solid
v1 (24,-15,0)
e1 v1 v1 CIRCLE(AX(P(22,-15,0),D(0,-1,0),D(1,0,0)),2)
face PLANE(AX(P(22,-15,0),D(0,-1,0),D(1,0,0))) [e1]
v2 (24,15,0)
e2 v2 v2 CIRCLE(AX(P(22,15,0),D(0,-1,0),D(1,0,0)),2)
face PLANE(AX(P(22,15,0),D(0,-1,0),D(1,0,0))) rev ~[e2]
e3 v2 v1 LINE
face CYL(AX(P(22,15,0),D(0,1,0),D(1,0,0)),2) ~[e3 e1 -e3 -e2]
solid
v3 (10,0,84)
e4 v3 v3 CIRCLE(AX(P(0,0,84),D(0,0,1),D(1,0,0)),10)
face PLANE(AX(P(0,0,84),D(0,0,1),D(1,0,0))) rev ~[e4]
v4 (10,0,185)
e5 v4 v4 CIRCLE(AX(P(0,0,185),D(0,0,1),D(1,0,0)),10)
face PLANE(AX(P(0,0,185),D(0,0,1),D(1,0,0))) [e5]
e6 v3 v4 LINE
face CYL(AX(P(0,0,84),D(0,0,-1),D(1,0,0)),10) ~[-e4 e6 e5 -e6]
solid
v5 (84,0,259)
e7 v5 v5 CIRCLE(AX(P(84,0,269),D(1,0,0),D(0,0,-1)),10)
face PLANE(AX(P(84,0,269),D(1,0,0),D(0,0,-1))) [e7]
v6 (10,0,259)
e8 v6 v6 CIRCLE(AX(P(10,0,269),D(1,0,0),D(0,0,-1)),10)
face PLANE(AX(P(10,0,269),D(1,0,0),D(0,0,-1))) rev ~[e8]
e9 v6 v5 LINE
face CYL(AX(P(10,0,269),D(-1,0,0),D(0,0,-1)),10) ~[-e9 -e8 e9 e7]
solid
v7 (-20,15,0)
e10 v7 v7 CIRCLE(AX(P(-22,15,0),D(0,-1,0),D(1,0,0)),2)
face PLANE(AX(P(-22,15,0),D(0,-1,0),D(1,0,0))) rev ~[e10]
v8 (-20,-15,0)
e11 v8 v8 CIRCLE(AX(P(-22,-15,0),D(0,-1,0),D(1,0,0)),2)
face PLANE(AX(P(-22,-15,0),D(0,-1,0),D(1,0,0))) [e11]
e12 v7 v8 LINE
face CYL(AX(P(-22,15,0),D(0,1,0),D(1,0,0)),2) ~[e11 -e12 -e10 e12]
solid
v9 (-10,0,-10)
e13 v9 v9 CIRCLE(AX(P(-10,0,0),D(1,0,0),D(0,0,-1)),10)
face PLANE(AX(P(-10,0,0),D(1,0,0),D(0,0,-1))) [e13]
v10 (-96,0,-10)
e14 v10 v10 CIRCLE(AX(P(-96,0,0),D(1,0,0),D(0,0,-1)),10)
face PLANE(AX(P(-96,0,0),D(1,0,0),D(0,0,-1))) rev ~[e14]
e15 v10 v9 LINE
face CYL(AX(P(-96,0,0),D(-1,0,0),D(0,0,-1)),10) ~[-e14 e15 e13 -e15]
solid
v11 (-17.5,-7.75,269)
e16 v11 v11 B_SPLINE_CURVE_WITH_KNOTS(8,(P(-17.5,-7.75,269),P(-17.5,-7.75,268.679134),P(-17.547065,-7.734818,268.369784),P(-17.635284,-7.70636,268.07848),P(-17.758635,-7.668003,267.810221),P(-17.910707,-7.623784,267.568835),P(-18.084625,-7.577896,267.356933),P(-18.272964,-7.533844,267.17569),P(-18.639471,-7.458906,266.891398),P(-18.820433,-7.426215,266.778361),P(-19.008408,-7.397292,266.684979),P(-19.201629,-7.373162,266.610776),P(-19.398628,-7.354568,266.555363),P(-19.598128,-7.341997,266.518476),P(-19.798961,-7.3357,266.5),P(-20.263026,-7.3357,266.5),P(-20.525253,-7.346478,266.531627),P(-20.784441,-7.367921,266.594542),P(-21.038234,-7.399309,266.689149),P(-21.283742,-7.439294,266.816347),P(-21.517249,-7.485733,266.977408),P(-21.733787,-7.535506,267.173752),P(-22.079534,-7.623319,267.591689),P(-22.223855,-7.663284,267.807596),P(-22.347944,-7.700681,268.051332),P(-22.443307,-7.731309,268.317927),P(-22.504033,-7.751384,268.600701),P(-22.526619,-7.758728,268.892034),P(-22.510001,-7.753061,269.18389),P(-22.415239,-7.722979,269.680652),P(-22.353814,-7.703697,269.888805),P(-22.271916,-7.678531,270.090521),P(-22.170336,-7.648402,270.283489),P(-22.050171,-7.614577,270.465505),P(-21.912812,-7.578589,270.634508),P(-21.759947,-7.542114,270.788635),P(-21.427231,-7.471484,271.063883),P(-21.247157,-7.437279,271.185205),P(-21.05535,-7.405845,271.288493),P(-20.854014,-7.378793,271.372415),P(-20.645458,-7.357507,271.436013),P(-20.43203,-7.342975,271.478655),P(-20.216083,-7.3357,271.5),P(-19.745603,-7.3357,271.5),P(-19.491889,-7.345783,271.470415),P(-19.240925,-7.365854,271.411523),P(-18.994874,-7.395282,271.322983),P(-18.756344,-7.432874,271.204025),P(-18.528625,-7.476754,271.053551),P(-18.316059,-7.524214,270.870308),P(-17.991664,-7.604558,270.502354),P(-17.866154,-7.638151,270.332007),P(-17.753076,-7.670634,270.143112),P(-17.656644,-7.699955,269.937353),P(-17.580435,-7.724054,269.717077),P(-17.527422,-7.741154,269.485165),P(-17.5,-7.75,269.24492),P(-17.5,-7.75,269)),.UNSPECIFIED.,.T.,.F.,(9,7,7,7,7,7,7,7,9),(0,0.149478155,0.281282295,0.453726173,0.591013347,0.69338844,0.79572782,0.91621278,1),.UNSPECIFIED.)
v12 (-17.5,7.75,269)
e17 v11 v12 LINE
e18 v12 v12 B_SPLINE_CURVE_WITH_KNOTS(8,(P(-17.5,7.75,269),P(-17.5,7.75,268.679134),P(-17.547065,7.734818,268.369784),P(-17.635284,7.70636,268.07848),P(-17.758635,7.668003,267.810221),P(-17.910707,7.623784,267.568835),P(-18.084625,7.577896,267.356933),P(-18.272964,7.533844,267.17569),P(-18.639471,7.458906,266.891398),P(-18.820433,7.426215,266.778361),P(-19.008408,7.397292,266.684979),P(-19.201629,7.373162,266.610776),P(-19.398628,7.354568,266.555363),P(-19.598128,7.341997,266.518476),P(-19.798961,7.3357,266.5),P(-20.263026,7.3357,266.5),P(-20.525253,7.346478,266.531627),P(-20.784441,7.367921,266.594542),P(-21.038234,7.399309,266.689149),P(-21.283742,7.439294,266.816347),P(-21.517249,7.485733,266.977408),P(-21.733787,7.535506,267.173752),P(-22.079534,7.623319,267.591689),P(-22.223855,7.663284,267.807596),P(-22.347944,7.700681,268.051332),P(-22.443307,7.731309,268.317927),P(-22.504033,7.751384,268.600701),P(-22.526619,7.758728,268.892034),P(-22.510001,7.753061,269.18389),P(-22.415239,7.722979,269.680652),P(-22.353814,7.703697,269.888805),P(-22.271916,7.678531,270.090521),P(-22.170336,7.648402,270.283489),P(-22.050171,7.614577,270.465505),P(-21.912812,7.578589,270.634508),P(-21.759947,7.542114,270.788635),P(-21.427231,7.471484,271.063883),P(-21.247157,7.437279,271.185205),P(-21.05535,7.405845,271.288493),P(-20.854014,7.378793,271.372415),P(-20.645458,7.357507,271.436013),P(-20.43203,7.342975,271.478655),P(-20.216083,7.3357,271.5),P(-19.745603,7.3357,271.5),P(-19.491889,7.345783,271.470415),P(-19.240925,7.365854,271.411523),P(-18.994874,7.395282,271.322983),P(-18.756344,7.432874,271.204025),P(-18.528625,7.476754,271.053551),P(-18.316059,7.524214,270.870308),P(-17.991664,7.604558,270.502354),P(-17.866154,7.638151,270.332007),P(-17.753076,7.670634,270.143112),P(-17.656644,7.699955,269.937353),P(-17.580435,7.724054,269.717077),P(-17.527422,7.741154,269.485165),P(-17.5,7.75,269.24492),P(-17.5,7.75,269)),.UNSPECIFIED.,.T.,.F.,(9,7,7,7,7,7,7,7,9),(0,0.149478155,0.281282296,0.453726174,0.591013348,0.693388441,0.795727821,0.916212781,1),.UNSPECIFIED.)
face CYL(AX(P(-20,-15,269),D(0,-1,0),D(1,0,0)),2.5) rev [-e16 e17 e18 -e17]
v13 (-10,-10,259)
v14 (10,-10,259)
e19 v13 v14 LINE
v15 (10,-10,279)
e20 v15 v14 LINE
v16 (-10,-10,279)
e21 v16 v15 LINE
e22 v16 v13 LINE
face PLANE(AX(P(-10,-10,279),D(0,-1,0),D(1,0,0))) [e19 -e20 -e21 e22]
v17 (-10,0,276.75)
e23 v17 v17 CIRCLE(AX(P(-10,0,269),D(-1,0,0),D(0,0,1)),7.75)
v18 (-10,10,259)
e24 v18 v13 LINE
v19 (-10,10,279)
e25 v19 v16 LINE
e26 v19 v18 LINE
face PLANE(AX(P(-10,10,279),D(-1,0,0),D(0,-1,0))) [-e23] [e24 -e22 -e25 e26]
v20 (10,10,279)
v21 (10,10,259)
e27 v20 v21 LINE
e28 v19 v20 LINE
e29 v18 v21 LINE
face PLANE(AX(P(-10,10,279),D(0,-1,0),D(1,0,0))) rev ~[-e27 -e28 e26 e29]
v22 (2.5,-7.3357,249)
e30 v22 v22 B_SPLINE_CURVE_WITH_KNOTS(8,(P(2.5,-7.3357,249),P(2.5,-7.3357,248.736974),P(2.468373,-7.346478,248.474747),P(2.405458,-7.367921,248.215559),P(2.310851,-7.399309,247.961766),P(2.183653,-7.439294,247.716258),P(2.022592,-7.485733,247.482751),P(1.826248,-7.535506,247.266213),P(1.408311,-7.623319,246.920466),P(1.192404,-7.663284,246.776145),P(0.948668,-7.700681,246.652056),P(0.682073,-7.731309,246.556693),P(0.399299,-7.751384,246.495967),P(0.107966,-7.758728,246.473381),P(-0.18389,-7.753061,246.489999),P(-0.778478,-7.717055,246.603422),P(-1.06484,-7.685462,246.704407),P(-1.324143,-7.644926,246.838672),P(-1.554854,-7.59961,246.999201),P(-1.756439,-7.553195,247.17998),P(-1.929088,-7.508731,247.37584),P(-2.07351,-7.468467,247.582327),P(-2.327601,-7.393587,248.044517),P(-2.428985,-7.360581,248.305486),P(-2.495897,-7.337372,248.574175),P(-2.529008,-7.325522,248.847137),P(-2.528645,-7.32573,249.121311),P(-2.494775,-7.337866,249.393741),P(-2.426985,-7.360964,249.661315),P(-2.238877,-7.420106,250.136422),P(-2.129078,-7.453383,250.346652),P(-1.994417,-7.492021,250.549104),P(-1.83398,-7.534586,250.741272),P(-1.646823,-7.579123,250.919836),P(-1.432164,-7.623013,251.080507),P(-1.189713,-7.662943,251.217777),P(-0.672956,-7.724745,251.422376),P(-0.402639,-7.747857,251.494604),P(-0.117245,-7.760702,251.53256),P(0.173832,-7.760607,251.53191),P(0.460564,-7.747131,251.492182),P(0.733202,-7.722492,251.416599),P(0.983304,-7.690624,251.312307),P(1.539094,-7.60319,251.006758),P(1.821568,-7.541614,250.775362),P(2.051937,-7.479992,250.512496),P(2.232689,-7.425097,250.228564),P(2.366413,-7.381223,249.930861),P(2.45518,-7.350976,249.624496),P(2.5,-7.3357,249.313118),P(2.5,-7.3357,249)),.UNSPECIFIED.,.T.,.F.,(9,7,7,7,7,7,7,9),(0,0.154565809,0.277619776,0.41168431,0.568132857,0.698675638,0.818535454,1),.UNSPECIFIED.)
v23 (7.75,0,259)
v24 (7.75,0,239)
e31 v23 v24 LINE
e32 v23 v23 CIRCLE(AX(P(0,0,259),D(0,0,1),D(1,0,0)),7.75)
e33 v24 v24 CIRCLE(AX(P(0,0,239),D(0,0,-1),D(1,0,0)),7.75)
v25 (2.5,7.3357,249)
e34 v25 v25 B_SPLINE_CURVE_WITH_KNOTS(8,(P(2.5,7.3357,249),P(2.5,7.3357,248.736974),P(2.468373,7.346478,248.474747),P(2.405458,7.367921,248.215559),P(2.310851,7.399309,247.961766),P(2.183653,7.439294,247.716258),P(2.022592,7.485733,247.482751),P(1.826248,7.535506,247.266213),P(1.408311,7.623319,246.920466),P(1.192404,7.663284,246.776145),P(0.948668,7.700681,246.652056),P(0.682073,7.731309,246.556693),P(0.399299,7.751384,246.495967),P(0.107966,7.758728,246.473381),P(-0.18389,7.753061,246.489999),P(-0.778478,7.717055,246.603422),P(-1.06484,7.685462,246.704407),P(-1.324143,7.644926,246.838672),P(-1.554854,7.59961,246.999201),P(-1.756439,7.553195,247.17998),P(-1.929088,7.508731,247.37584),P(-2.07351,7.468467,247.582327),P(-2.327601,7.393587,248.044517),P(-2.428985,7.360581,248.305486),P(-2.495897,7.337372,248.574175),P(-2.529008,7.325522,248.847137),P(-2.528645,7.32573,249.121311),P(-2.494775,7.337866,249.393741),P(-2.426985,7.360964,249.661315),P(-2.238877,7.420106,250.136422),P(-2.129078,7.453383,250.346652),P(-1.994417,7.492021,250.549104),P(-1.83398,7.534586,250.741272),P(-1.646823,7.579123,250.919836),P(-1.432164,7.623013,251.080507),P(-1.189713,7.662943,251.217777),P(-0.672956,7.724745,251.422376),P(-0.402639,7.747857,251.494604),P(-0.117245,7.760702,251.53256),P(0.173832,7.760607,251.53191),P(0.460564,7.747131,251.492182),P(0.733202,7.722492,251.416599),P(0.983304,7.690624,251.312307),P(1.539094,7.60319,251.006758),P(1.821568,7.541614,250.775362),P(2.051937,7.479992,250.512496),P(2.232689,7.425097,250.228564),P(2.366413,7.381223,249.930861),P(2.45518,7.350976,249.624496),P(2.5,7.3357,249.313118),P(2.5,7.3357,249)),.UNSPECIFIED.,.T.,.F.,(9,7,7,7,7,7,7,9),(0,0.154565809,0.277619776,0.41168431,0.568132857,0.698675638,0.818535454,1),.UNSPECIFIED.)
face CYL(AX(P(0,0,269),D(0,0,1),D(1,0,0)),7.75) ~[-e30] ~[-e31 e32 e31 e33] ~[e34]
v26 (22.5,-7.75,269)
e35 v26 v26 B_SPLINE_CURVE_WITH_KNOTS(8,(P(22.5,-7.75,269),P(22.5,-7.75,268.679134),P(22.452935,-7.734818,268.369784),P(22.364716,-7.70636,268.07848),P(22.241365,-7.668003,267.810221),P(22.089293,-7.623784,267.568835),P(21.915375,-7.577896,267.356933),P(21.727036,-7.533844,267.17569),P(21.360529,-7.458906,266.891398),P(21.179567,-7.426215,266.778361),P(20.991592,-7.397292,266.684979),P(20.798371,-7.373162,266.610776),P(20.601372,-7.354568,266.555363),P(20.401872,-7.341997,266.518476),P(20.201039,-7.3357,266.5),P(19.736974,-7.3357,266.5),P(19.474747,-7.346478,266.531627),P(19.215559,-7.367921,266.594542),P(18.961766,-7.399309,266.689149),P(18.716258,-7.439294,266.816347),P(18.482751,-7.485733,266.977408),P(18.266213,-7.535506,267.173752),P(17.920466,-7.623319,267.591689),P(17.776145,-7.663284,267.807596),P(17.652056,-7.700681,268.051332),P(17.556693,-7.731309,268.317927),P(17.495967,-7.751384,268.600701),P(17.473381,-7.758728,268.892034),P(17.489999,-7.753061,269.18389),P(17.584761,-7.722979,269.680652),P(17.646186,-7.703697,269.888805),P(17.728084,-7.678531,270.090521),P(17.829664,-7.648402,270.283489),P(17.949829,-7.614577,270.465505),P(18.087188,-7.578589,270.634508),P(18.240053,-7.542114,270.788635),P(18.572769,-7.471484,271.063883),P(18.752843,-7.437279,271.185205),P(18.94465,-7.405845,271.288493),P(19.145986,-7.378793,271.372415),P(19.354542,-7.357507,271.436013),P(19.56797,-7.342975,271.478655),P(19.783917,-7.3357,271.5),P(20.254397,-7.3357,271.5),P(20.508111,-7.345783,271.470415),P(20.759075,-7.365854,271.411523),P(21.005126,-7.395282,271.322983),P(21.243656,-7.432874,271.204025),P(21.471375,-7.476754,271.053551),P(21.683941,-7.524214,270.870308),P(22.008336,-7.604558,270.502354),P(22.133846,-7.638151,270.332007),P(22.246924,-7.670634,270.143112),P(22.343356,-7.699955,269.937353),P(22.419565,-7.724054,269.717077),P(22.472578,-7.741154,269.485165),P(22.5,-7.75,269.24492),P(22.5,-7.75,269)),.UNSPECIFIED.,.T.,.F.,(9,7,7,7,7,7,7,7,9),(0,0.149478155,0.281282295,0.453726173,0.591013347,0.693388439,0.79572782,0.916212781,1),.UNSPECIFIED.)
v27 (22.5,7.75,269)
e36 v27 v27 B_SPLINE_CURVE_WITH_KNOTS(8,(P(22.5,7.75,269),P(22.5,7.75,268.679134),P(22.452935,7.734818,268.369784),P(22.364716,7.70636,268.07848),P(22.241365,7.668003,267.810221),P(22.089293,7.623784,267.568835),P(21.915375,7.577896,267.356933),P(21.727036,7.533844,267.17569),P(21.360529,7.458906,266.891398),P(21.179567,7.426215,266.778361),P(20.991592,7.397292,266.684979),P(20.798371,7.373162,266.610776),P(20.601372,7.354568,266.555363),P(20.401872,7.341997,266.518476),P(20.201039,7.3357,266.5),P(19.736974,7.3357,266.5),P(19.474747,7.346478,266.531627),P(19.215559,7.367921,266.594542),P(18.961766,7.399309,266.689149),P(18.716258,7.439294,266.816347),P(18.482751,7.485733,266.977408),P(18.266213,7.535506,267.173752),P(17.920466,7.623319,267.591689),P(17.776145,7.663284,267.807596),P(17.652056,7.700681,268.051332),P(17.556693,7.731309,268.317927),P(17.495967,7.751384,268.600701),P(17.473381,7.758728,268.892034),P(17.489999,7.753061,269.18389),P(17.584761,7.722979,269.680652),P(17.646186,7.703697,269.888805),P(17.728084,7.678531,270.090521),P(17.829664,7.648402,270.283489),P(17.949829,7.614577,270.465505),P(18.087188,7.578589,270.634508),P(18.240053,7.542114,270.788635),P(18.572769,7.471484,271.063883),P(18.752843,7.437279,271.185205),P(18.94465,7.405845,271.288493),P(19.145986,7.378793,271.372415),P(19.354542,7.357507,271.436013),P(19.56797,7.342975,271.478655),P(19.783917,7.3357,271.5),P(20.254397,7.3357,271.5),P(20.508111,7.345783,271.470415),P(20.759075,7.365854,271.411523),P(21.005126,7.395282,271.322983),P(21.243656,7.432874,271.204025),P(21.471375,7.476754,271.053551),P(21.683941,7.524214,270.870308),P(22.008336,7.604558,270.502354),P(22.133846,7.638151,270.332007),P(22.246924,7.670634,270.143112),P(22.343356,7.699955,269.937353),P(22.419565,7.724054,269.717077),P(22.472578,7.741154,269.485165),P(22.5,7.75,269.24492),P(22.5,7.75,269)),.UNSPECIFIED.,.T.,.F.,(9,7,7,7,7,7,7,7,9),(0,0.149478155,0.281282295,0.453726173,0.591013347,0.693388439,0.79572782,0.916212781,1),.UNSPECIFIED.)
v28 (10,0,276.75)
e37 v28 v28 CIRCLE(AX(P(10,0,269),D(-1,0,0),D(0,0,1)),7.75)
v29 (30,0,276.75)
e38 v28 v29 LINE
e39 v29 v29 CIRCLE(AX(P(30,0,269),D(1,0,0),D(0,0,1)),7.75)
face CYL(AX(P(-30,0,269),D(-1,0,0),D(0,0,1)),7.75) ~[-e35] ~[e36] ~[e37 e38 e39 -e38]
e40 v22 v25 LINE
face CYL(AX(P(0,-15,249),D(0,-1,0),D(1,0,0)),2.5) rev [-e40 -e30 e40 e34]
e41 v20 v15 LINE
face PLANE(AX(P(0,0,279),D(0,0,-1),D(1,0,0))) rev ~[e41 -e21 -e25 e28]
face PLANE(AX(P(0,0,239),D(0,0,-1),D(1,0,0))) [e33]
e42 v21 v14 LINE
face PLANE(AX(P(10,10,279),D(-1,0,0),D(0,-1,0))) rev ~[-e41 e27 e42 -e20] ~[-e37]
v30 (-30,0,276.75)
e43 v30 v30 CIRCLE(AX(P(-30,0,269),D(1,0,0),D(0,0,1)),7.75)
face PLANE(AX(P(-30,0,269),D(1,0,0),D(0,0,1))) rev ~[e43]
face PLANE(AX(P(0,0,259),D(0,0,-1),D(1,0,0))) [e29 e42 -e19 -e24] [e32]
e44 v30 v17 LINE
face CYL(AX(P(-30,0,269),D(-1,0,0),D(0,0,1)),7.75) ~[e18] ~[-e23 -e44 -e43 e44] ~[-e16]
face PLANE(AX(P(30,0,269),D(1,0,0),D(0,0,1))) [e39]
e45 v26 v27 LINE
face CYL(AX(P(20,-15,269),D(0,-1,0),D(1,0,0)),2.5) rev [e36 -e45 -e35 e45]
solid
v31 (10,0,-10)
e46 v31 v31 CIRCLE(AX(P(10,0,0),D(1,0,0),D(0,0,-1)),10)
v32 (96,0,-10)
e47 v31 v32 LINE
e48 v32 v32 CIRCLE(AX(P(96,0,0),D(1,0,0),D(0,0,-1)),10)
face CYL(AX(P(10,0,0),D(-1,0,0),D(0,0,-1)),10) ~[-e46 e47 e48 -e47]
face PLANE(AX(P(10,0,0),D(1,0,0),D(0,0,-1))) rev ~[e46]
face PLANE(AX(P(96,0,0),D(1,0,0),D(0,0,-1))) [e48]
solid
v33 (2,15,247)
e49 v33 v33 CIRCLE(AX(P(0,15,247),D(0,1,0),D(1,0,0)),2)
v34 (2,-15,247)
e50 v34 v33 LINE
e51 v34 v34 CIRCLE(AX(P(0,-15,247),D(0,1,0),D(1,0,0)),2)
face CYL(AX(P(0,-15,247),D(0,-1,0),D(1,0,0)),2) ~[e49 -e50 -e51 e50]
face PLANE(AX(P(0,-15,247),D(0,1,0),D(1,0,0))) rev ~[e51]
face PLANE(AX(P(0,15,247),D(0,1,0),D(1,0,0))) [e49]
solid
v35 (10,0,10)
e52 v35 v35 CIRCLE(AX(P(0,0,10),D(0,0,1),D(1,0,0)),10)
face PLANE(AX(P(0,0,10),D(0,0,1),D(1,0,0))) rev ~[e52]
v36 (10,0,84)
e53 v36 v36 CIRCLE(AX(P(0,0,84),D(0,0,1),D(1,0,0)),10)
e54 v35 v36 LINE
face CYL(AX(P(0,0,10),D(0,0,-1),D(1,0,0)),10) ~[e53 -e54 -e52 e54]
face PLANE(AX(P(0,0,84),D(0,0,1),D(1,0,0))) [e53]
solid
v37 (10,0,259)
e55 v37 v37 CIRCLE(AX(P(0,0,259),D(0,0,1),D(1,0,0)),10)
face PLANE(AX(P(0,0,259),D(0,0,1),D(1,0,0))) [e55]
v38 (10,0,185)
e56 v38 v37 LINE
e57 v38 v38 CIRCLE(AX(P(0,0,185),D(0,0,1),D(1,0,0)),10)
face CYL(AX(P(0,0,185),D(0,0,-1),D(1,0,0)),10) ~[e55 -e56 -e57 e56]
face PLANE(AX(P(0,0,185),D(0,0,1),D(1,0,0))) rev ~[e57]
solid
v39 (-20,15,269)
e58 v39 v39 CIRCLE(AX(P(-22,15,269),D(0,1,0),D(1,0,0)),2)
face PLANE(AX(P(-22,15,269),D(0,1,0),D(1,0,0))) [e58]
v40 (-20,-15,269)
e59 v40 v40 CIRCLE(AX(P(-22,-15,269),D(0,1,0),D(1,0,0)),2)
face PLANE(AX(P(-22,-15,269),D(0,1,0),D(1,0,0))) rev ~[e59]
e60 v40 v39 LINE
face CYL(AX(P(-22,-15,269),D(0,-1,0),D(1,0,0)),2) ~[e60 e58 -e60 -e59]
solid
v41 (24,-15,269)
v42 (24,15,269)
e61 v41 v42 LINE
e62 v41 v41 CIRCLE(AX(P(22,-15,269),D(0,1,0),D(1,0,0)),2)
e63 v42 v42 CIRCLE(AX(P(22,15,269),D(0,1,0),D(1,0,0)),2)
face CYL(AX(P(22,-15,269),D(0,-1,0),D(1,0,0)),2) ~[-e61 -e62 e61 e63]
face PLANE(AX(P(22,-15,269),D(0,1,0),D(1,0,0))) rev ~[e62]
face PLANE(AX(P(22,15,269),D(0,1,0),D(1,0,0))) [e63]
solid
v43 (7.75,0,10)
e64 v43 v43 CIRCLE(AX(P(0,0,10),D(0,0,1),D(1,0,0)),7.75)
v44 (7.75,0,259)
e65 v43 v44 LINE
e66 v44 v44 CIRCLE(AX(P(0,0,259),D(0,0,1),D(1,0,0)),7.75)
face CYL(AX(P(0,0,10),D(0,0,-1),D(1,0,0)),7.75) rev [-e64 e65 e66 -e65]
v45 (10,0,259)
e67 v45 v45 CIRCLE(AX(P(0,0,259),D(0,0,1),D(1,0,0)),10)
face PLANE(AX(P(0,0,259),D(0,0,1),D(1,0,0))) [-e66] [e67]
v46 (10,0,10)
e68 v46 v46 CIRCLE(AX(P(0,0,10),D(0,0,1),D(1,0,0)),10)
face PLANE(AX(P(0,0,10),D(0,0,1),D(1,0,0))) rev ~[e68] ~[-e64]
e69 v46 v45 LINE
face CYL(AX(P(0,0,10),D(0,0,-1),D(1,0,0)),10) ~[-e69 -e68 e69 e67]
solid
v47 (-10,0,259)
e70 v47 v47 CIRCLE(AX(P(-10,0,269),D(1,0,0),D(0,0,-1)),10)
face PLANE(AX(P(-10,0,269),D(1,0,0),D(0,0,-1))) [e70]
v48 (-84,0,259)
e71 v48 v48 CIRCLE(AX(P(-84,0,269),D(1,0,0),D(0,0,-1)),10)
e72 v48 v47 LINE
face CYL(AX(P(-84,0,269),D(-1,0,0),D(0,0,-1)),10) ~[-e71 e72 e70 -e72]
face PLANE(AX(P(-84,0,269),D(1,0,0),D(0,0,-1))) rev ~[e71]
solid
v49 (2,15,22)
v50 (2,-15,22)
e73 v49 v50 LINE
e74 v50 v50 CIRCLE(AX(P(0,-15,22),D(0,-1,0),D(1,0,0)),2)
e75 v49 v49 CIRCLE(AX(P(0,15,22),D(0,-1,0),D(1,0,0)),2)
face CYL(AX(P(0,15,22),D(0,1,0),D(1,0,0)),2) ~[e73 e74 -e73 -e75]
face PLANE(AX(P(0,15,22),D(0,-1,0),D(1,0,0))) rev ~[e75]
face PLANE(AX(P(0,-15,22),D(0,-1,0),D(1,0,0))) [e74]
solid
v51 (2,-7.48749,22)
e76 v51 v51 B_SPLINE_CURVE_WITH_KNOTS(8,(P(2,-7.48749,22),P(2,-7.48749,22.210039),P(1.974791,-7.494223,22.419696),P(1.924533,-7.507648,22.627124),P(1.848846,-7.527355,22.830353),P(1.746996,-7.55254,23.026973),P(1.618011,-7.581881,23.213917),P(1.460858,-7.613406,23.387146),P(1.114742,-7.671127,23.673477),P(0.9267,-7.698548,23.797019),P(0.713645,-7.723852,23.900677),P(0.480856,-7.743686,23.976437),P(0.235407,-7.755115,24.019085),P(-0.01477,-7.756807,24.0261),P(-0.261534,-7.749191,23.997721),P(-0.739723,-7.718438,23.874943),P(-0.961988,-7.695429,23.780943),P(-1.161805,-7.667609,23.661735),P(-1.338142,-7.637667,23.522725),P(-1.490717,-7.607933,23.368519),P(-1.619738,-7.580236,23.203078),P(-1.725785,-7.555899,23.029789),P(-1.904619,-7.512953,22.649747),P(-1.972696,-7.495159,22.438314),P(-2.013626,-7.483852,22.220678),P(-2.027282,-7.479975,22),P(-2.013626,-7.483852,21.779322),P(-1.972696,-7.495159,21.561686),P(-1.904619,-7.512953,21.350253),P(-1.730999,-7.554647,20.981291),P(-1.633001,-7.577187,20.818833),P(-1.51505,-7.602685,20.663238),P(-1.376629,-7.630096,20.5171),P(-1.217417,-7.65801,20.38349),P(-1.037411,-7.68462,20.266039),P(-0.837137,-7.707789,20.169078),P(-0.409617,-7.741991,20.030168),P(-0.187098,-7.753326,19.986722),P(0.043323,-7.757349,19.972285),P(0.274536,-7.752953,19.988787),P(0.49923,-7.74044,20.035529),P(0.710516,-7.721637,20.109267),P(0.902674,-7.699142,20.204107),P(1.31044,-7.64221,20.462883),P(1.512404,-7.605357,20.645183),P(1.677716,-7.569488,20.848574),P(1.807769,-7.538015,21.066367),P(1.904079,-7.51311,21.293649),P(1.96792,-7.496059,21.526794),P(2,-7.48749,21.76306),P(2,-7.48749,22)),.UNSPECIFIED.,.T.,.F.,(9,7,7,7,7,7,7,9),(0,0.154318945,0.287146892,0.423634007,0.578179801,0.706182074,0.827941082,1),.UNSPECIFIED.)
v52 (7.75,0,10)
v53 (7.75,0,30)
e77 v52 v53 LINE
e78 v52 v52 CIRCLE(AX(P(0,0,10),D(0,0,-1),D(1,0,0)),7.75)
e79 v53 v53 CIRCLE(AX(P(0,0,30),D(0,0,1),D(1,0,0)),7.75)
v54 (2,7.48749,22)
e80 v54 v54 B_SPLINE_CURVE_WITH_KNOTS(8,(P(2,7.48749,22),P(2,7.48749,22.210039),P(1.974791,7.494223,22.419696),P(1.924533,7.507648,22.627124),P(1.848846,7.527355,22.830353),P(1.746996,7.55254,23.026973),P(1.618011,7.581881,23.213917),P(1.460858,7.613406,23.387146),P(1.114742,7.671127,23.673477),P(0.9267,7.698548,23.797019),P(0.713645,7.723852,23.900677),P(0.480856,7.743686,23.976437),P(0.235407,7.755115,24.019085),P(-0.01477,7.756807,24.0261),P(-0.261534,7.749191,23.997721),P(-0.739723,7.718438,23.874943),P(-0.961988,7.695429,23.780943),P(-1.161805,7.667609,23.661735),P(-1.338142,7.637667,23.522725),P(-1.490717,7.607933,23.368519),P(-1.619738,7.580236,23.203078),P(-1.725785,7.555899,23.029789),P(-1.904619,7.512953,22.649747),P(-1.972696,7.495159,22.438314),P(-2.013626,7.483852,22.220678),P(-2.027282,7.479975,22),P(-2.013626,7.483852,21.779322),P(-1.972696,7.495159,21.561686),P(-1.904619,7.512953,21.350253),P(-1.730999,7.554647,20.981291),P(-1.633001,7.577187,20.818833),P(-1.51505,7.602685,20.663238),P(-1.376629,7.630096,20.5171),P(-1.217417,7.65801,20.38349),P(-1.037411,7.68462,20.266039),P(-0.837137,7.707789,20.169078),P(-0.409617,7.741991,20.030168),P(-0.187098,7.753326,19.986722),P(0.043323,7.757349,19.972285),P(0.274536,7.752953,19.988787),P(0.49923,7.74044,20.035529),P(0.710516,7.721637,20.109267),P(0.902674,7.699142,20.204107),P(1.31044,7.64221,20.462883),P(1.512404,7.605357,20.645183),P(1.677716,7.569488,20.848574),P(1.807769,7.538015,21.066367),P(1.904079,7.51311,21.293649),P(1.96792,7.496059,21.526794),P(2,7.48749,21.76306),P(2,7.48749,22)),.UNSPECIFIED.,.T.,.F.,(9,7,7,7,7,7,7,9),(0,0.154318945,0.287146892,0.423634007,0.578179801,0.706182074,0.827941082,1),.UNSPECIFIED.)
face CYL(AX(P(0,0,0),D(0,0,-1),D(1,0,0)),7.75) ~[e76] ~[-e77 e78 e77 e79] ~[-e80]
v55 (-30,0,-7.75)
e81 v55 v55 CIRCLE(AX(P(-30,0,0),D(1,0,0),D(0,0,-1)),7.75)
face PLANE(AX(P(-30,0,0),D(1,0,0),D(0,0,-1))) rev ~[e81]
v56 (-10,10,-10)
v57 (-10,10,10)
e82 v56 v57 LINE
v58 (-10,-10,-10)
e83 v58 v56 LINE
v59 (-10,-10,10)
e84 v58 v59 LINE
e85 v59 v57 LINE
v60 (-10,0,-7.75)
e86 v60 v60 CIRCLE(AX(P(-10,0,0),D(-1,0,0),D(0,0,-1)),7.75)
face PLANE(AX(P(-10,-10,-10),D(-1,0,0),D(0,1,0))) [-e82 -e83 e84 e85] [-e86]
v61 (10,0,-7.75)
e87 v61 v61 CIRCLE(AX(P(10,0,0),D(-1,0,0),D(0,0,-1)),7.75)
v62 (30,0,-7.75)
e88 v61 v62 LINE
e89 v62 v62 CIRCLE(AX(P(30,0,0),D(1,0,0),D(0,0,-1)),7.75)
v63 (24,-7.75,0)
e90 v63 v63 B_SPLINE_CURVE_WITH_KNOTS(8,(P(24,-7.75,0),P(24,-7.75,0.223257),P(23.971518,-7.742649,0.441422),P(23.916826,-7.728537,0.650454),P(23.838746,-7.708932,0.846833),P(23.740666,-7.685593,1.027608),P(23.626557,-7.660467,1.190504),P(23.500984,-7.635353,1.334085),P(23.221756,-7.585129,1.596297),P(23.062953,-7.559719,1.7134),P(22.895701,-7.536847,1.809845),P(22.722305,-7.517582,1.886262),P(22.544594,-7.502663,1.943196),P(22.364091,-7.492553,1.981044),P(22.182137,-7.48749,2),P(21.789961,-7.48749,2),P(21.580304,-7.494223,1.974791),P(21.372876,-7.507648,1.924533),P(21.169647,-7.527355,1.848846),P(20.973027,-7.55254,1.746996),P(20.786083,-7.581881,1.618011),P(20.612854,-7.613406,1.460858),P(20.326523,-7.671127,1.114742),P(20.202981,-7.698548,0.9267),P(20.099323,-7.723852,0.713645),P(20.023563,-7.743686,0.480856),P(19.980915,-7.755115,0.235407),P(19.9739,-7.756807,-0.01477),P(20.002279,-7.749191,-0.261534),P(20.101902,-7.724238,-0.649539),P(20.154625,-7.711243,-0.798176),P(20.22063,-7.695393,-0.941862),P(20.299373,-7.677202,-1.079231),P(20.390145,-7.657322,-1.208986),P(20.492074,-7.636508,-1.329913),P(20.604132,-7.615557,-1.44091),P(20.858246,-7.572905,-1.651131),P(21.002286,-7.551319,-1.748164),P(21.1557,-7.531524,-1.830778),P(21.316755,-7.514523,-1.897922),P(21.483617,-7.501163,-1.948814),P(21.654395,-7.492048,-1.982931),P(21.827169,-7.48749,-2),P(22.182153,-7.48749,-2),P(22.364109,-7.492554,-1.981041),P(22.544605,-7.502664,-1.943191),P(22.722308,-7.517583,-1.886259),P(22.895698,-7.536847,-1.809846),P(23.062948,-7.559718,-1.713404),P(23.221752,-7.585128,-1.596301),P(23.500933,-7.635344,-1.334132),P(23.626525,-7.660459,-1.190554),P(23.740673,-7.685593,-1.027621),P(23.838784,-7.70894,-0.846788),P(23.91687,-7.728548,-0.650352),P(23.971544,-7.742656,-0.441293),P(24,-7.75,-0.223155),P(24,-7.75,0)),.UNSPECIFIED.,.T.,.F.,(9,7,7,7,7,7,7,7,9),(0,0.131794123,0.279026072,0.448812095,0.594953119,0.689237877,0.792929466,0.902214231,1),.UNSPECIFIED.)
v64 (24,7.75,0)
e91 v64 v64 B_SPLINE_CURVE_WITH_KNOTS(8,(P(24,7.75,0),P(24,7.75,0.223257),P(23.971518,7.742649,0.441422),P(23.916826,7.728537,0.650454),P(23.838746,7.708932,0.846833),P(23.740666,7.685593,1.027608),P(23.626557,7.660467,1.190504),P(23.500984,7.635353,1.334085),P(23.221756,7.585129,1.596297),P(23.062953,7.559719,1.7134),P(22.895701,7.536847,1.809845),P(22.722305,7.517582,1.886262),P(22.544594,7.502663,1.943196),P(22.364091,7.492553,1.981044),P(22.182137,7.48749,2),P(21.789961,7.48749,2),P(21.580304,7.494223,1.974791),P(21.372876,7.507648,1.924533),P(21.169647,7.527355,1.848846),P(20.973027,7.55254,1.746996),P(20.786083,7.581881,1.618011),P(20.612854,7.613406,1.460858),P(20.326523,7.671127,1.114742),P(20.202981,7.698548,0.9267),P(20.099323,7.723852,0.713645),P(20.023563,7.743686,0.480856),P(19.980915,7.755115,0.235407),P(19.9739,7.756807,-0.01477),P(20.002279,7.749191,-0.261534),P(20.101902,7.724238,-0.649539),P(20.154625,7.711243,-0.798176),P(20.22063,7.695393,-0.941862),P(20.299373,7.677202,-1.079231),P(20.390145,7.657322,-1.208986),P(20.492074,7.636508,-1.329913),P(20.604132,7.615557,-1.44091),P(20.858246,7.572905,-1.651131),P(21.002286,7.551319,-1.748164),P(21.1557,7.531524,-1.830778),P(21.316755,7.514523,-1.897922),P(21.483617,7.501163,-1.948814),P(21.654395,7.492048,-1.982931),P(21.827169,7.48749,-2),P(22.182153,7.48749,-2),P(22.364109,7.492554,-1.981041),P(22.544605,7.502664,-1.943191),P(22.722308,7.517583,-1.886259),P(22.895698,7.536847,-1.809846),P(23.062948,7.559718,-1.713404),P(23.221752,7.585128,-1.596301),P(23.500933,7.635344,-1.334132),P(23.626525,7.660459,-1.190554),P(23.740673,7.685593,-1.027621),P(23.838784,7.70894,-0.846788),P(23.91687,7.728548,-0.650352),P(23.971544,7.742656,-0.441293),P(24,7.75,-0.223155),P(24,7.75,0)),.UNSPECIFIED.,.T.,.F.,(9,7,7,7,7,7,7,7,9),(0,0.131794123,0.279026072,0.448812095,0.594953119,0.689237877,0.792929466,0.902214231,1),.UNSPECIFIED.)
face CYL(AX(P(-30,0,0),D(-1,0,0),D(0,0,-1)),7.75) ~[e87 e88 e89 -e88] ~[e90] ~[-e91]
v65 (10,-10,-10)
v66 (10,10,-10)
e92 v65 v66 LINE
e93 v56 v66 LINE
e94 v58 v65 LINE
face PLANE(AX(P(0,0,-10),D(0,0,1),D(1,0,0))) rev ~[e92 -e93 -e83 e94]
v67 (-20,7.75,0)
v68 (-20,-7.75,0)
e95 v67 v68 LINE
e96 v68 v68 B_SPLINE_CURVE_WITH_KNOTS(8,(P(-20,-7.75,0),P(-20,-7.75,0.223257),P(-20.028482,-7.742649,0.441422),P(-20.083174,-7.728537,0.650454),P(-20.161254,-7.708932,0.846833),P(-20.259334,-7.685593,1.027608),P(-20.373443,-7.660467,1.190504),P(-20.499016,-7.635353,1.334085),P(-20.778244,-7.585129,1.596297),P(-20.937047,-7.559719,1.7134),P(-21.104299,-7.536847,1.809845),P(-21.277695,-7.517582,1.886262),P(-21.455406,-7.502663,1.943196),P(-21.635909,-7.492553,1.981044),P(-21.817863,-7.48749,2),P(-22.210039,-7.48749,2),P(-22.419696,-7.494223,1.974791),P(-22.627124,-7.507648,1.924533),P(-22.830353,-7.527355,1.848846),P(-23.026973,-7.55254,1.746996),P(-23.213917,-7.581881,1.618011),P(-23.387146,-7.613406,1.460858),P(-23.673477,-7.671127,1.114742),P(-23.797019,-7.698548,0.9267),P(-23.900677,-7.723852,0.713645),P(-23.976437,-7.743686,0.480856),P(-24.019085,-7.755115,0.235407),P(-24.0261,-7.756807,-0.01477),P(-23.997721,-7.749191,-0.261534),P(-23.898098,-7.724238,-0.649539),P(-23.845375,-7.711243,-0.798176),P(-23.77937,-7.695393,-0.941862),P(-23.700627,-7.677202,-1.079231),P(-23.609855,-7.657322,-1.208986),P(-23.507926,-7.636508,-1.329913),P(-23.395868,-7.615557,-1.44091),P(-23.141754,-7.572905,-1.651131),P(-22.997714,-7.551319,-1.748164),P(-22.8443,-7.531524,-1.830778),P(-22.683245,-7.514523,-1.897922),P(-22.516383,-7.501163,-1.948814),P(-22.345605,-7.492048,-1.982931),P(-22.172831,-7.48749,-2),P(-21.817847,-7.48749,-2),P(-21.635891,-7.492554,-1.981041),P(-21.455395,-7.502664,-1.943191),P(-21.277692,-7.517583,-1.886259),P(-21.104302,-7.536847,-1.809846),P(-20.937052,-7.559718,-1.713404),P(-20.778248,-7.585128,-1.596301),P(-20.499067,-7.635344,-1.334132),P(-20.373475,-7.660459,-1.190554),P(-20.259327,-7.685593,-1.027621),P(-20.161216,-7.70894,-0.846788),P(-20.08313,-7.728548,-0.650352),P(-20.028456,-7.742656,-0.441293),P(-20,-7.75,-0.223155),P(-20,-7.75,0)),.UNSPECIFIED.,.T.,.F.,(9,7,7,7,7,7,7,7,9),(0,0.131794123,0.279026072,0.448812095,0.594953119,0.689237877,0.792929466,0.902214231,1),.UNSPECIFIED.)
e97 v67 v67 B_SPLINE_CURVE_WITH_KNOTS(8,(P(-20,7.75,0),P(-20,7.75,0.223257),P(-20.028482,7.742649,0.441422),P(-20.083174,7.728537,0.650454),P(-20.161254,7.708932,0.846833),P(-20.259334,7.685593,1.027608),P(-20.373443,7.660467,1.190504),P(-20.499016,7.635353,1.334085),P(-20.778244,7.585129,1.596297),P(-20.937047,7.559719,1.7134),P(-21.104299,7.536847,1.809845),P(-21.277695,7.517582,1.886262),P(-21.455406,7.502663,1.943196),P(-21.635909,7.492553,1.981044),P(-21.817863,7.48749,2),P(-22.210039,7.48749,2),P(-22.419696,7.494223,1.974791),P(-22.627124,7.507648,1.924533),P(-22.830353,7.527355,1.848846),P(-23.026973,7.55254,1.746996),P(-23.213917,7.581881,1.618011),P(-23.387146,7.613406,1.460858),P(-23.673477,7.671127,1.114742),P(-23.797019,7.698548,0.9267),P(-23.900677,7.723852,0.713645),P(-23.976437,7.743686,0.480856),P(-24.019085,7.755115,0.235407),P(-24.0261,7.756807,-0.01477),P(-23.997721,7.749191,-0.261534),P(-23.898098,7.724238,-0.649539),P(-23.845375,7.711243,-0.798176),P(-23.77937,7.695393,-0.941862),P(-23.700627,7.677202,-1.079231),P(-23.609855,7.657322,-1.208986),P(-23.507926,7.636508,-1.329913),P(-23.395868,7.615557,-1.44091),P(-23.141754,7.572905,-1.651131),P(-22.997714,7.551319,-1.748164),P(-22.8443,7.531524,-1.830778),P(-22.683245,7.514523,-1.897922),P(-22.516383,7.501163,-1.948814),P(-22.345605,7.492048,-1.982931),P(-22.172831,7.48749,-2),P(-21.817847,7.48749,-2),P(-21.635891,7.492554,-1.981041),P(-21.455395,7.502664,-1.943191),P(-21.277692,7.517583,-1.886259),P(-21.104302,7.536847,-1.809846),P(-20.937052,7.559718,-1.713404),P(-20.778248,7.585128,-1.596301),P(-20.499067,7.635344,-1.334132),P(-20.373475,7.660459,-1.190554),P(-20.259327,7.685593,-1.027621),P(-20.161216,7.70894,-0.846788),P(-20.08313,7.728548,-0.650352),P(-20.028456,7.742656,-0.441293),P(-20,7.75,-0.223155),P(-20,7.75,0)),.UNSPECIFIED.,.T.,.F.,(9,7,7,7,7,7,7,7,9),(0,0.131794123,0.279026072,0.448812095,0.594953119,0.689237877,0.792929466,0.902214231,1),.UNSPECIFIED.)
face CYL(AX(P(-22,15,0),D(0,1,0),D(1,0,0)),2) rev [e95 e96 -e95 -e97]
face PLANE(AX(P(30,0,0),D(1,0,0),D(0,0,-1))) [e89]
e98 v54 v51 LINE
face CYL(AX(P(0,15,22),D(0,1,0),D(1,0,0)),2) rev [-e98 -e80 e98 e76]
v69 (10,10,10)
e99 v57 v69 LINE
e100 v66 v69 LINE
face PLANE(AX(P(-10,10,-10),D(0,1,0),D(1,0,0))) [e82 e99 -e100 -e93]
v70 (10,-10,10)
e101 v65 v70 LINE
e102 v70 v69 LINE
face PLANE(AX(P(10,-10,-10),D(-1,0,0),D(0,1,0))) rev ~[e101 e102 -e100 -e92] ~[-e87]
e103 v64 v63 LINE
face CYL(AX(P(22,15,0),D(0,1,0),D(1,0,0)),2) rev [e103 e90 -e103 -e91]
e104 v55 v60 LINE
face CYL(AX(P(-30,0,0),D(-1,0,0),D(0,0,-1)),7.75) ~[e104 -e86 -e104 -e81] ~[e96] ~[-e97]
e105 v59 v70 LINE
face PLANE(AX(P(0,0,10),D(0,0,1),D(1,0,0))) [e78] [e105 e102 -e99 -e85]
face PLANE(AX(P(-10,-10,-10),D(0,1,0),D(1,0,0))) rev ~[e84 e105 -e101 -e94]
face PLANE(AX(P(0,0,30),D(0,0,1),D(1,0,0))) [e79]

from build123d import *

# Parameters (mm, degrees)
CYLINDER_R                = 10
CYLINDER_DEPTH            = 86
CYLINDER002_R             = 10
CYLINDER002_DEPTH         = 86
CYLINDER003_R             = 10
CYLINDER003_DEPTH         = 74
CYLINDER004_R             = 10
CYLINDER004_DEPTH         = 74
CYLINDER005_R             = 10
CYLINDER005_DEPTH         = 74
CYLINDER006_R             = 10
CYLINDER006_DEPTH         = 101
CYLINDER007_R             = 10
CYLINDER007_DEPTH         = 74
TUBE_R                    = 10
TUBE_R_2                  = 7.75
TUBE_DEPTH                = 249
CYLINDER012_R             = 2
CYLINDER012_DEPTH         = 30
CYLINDER013_R             = 2
CYLINDER013_DEPTH         = 30
CYLINDER014_R             = 2
CYLINDER014_DEPTH         = 30
CYLINDER009_R             = 7.75
CYLINDER009_DEPTH         = 30
CYLINDER008_R             = 7.75
CYLINDER008_DEPTH         = 60
BOX_W                     = 20
BOX_H                     = 20
BOX_DEPTH                 = 20
CYLINDER017_R             = 2.5
CYLINDER017_DEPTH         = 30
CYLINDER018_R             = 2.5
CYLINDER018_DEPTH         = 30
CYLINDER019_R             = 2.5
CYLINDER019_DEPTH         = 30
CYLINDER016_R             = 7.75
CYLINDER016_DEPTH         = 30
CYLINDER015_R             = 7.75
CYLINDER015_DEPTH         = 60
BOX001_W                  = 20
BOX001_H                  = 20
BOX001_DEPTH              = 20
CUT001_PLACEMENT_ANGLE    = 180
CYLINDER020_R             = 2
CYLINDER020_DEPTH         = 30
CYLINDER021_R             = 2
CYLINDER021_DEPTH         = 30
CYLINDER022_R             = 2
CYLINDER022_DEPTH         = 30
CYLINDER023_R             = 2
CYLINDER023_DEPTH         = 30
CYLINDER024_R             = 2
CYLINDER024_DEPTH         = 30
CYLINDER025_R             = 2
CYLINDER025_DEPTH         = 30
FUSION006_PLACEMENT_ANGLE = 180


with BuildPart() as cadera_izquierda:
    # Cylinder → Cylinder (new body)
    with BuildSketch(Plane(origin=(10, 0, 0), x_dir=(0, 0, -1), z_dir=(1, 0, 0))):
        Circle(CYLINDER_R)
    extrude(amount=CYLINDER_DEPTH)


with BuildPart() as cadera_dercha:
    # Cylinder002 → Cylinder002 (new body)
    with BuildSketch(Plane(origin=(-96, 0, 0), x_dir=(0, 0, -1), z_dir=(1, 0, 0))):
        Circle(CYLINDER002_R)
    extrude(amount=CYLINDER002_DEPTH)


with BuildPart() as clavicula_derecha:
    # Cylinder003 → Cylinder003 (new body)
    with BuildSketch(Plane(origin=(-84, 0, 269), x_dir=(0, 0, -1), z_dir=(1, 0, 0))):
        Circle(CYLINDER003_R)
    extrude(amount=CYLINDER003_DEPTH)


with BuildPart() as clavicula_izquierda:
    # Cylinder004 → Cylinder004 (new body)
    with BuildSketch(Plane(origin=(10, 0, 269), x_dir=(0, 0, -1), z_dir=(1, 0, 0))):
        Circle(CYLINDER004_R)
    extrude(amount=CYLINDER004_DEPTH)


with BuildPart() as vertebral001:
    # Cylinder005 → Cylinder005 (new body)
    with BuildSketch(Plane.XY.offset(185)):
        Circle(CYLINDER005_R)
    extrude(amount=CYLINDER005_DEPTH)


with BuildPart() as vertebral002:
    # Cylinder006 → Cylinder006 (new body)
    with BuildSketch(Plane.XY.offset(84)):
        Circle(CYLINDER006_R)
    extrude(amount=CYLINDER006_DEPTH)


with BuildPart() as vertebral003:
    # Cylinder007 → Cylinder007 (new body)
    with BuildSketch(Plane.XY.offset(10)):
        Circle(CYLINDER007_R)
    extrude(amount=CYLINDER007_DEPTH)


with BuildPart() as columna_vertebral:
    # Tube → Tube (new body)
    with BuildSketch(Plane.XY.offset(10)):
        Circle(TUBE_R)
        Circle(TUBE_R_2, mode=Mode.SUBTRACT)
    extrude(amount=TUBE_DEPTH)


with BuildPart() as taladros:
    # Cylinder012 → Cylinder012 (new body)
    with BuildSketch(Plane(origin=(22, 15, 0), x_dir=(1, 0, 0), z_dir=(0, -1, 0))):
        Circle(CYLINDER012_R)
    extrude(amount=CYLINDER012_DEPTH)


with BuildPart() as taladros001:
    # Cylinder013 → Cylinder013 (new body)
    with BuildSketch(Plane(origin=(-22, 15, 0), x_dir=(1, 0, 0), z_dir=(0, -1, 0))):
        Circle(CYLINDER013_R)
    extrude(amount=CYLINDER013_DEPTH)


with BuildPart() as taladros_ligamento_t:
    # Cylinder014 → Cylinder014 (new body)
    with BuildSketch(Plane(origin=(0, 15, 22), x_dir=(1, 0, 0), z_dir=(0, -1, 0))):
        Circle(CYLINDER014_R)
    extrude(amount=CYLINDER014_DEPTH)

    # Fusion002: union Taladros, Taladros001
    add(taladros.part)
    add(taladros001.part)


with BuildPart() as ligamento_cadera001:
    # Cylinder009 → Cylinder009 (new body)
    with BuildSketch(Plane.XY):
        Circle(CYLINDER009_R)
    extrude(amount=CYLINDER009_DEPTH)


with BuildPart() as ligamento_cadera:
    # Cylinder008 → Cylinder008 (new body)
    with BuildSketch(Plane(origin=(-30, 0, 0), x_dir=(0, 0, -1), z_dir=(1, 0, 0))):
        Circle(CYLINDER008_R)
    extrude(amount=CYLINDER008_DEPTH)


with BuildPart() as ligamento_t_imprimir:
    # Box → Box (new body)
    with BuildSketch(Plane(origin=(-10, -10, -10), x_dir=(1, 0, 0), z_dir=(0, 0, 1))):
        with Locations((10, 10)):
            Rectangle(BOX_W, BOX_H)
    extrude(amount=BOX_DEPTH)

    # Fusion001: union Ligamento_cadera001, Ligamento_cadera
    add(ligamento_cadera001.part)
    add(ligamento_cadera.part)

    # Cut: cut Taladros_ligamento_T
    add(taladros_ligamento_t.part, mode=Mode.SUBTRACT)


with BuildPart() as taladros003:
    # Cylinder017 → Cylinder017 (new body)
    with BuildSketch(Plane(origin=(20, 15, 0), x_dir=(1, 0, 0), z_dir=(0, -1, 0))):
        Circle(CYLINDER017_R)
    extrude(amount=CYLINDER017_DEPTH)


with BuildPart() as taladros004:
    # Cylinder018 → Cylinder018 (new body)
    with BuildSketch(Plane(origin=(-20, 15, 0), x_dir=(1, 0, 0), z_dir=(0, -1, 0))):
        Circle(CYLINDER018_R)
    extrude(amount=CYLINDER018_DEPTH)


with BuildPart() as taladros_ligamento_t001:
    # Cylinder019 → Cylinder019 (new body)
    with BuildSketch(Plane(origin=(0, 15, 20), x_dir=(1, 0, 0), z_dir=(0, -1, 0))):
        Circle(CYLINDER019_R)
    extrude(amount=CYLINDER019_DEPTH)

    # Fusion004: union Taladros003, Taladros004
    add(taladros003.part)
    add(taladros004.part)


with BuildPart() as ligamento_cadera003:
    # Cylinder016 → Cylinder016 (new body)
    with BuildSketch(Plane.XY):
        Circle(CYLINDER016_R)
    extrude(amount=CYLINDER016_DEPTH)


with BuildPart() as ligamento_cadera002:
    # Cylinder015 → Cylinder015 (new body)
    with BuildSketch(Plane(origin=(-30, 0, 0), x_dir=(0, 0, -1), z_dir=(1, 0, 0))):
        Circle(CYLINDER015_R)
    extrude(amount=CYLINDER015_DEPTH)


with BuildPart() as ligamento_t_imprimir001:
    # Box001 → Box001 (new body)
    with BuildSketch(Plane(origin=(-10, -10, -10), x_dir=(1, 0, 0), z_dir=(0, 0, 1))):
        with Locations((10, 10)):
            Rectangle(BOX001_W, BOX001_H)
    extrude(amount=BOX001_DEPTH)

    # Fusion003: union Ligamento_cadera003, Ligamento_cadera002
    add(ligamento_cadera003.part)
    add(ligamento_cadera002.part)

    # Cut001: cut Taladros_ligamento_T001
    add(taladros_ligamento_t001.part, mode=Mode.SUBTRACT)


with BuildPart() as ligamento_t_imprimir001_1:
    # Cut001 placement: moved
    add(ligamento_t_imprimir001.part.moved(Location((0, 0, 269))).rotate(Axis((0, 0, 269), (1, 0, 0)), CUT001_PLACEMENT_ANGLE))


with BuildPart() as taladros006:
    # Cylinder020 → Cylinder020 (new body)
    with BuildSketch(Plane(origin=(22, 15, 0), x_dir=(1, 0, 0), z_dir=(0, -1, 0))):
        Circle(CYLINDER020_R)
    extrude(amount=CYLINDER020_DEPTH)


with BuildPart() as taladros007:
    # Cylinder021 → Cylinder021 (new body)
    with BuildSketch(Plane(origin=(-22, 15, 0), x_dir=(1, 0, 0), z_dir=(0, -1, 0))):
        Circle(CYLINDER021_R)
    extrude(amount=CYLINDER021_DEPTH)


with BuildPart() as taladros_ligamento_t002:
    # Cylinder022 → Cylinder022 (new body)
    with BuildSketch(Plane(origin=(0, 15, 22), x_dir=(1, 0, 0), z_dir=(0, -1, 0))):
        Circle(CYLINDER022_R)
    extrude(amount=CYLINDER022_DEPTH)

    # Fusion005: union Taladros006, Taladros007
    add(taladros006.part)
    add(taladros007.part)


with BuildPart() as taladros009:
    # Cylinder023 → Cylinder023 (new body)
    with BuildSketch(Plane(origin=(22, 15, 0), x_dir=(1, 0, 0), z_dir=(0, -1, 0))):
        Circle(CYLINDER023_R)
    extrude(amount=CYLINDER023_DEPTH)


with BuildPart() as taladros010:
    # Cylinder024 → Cylinder024 (new body)
    with BuildSketch(Plane(origin=(-22, 15, 0), x_dir=(1, 0, 0), z_dir=(0, -1, 0))):
        Circle(CYLINDER024_R)
    extrude(amount=CYLINDER024_DEPTH)


with BuildPart() as taladros_ligamento_t003:
    # Cylinder025 → Cylinder025 (new body)
    with BuildSketch(Plane(origin=(0, 15, 22), x_dir=(1, 0, 0), z_dir=(0, -1, 0))):
        Circle(CYLINDER025_R)
    extrude(amount=CYLINDER025_DEPTH)

    # Fusion006: union Taladros009, Taladros010
    add(taladros009.part)
    add(taladros010.part)


with BuildPart() as taladros_ligamento_t003_1:
    # Fusion006 placement: moved
    add(taladros_ligamento_t003.part.moved(Location((0, 0, 269))).rotate(Axis((0, 0, 269), (1, 0, 0)), FUSION006_PLACEMENT_ANGLE))


solid = Compound([cadera_izquierda.part, cadera_dercha.part, clavicula_derecha.part, clavicula_izquierda.part, vertebral001.part, vertebral002.part, vertebral003.part, columna_vertebral.part, ligamento_t_imprimir.part, ligamento_t_imprimir001_1.part, taladros_ligamento_t002.part, taladros_ligamento_t003_1.part])
